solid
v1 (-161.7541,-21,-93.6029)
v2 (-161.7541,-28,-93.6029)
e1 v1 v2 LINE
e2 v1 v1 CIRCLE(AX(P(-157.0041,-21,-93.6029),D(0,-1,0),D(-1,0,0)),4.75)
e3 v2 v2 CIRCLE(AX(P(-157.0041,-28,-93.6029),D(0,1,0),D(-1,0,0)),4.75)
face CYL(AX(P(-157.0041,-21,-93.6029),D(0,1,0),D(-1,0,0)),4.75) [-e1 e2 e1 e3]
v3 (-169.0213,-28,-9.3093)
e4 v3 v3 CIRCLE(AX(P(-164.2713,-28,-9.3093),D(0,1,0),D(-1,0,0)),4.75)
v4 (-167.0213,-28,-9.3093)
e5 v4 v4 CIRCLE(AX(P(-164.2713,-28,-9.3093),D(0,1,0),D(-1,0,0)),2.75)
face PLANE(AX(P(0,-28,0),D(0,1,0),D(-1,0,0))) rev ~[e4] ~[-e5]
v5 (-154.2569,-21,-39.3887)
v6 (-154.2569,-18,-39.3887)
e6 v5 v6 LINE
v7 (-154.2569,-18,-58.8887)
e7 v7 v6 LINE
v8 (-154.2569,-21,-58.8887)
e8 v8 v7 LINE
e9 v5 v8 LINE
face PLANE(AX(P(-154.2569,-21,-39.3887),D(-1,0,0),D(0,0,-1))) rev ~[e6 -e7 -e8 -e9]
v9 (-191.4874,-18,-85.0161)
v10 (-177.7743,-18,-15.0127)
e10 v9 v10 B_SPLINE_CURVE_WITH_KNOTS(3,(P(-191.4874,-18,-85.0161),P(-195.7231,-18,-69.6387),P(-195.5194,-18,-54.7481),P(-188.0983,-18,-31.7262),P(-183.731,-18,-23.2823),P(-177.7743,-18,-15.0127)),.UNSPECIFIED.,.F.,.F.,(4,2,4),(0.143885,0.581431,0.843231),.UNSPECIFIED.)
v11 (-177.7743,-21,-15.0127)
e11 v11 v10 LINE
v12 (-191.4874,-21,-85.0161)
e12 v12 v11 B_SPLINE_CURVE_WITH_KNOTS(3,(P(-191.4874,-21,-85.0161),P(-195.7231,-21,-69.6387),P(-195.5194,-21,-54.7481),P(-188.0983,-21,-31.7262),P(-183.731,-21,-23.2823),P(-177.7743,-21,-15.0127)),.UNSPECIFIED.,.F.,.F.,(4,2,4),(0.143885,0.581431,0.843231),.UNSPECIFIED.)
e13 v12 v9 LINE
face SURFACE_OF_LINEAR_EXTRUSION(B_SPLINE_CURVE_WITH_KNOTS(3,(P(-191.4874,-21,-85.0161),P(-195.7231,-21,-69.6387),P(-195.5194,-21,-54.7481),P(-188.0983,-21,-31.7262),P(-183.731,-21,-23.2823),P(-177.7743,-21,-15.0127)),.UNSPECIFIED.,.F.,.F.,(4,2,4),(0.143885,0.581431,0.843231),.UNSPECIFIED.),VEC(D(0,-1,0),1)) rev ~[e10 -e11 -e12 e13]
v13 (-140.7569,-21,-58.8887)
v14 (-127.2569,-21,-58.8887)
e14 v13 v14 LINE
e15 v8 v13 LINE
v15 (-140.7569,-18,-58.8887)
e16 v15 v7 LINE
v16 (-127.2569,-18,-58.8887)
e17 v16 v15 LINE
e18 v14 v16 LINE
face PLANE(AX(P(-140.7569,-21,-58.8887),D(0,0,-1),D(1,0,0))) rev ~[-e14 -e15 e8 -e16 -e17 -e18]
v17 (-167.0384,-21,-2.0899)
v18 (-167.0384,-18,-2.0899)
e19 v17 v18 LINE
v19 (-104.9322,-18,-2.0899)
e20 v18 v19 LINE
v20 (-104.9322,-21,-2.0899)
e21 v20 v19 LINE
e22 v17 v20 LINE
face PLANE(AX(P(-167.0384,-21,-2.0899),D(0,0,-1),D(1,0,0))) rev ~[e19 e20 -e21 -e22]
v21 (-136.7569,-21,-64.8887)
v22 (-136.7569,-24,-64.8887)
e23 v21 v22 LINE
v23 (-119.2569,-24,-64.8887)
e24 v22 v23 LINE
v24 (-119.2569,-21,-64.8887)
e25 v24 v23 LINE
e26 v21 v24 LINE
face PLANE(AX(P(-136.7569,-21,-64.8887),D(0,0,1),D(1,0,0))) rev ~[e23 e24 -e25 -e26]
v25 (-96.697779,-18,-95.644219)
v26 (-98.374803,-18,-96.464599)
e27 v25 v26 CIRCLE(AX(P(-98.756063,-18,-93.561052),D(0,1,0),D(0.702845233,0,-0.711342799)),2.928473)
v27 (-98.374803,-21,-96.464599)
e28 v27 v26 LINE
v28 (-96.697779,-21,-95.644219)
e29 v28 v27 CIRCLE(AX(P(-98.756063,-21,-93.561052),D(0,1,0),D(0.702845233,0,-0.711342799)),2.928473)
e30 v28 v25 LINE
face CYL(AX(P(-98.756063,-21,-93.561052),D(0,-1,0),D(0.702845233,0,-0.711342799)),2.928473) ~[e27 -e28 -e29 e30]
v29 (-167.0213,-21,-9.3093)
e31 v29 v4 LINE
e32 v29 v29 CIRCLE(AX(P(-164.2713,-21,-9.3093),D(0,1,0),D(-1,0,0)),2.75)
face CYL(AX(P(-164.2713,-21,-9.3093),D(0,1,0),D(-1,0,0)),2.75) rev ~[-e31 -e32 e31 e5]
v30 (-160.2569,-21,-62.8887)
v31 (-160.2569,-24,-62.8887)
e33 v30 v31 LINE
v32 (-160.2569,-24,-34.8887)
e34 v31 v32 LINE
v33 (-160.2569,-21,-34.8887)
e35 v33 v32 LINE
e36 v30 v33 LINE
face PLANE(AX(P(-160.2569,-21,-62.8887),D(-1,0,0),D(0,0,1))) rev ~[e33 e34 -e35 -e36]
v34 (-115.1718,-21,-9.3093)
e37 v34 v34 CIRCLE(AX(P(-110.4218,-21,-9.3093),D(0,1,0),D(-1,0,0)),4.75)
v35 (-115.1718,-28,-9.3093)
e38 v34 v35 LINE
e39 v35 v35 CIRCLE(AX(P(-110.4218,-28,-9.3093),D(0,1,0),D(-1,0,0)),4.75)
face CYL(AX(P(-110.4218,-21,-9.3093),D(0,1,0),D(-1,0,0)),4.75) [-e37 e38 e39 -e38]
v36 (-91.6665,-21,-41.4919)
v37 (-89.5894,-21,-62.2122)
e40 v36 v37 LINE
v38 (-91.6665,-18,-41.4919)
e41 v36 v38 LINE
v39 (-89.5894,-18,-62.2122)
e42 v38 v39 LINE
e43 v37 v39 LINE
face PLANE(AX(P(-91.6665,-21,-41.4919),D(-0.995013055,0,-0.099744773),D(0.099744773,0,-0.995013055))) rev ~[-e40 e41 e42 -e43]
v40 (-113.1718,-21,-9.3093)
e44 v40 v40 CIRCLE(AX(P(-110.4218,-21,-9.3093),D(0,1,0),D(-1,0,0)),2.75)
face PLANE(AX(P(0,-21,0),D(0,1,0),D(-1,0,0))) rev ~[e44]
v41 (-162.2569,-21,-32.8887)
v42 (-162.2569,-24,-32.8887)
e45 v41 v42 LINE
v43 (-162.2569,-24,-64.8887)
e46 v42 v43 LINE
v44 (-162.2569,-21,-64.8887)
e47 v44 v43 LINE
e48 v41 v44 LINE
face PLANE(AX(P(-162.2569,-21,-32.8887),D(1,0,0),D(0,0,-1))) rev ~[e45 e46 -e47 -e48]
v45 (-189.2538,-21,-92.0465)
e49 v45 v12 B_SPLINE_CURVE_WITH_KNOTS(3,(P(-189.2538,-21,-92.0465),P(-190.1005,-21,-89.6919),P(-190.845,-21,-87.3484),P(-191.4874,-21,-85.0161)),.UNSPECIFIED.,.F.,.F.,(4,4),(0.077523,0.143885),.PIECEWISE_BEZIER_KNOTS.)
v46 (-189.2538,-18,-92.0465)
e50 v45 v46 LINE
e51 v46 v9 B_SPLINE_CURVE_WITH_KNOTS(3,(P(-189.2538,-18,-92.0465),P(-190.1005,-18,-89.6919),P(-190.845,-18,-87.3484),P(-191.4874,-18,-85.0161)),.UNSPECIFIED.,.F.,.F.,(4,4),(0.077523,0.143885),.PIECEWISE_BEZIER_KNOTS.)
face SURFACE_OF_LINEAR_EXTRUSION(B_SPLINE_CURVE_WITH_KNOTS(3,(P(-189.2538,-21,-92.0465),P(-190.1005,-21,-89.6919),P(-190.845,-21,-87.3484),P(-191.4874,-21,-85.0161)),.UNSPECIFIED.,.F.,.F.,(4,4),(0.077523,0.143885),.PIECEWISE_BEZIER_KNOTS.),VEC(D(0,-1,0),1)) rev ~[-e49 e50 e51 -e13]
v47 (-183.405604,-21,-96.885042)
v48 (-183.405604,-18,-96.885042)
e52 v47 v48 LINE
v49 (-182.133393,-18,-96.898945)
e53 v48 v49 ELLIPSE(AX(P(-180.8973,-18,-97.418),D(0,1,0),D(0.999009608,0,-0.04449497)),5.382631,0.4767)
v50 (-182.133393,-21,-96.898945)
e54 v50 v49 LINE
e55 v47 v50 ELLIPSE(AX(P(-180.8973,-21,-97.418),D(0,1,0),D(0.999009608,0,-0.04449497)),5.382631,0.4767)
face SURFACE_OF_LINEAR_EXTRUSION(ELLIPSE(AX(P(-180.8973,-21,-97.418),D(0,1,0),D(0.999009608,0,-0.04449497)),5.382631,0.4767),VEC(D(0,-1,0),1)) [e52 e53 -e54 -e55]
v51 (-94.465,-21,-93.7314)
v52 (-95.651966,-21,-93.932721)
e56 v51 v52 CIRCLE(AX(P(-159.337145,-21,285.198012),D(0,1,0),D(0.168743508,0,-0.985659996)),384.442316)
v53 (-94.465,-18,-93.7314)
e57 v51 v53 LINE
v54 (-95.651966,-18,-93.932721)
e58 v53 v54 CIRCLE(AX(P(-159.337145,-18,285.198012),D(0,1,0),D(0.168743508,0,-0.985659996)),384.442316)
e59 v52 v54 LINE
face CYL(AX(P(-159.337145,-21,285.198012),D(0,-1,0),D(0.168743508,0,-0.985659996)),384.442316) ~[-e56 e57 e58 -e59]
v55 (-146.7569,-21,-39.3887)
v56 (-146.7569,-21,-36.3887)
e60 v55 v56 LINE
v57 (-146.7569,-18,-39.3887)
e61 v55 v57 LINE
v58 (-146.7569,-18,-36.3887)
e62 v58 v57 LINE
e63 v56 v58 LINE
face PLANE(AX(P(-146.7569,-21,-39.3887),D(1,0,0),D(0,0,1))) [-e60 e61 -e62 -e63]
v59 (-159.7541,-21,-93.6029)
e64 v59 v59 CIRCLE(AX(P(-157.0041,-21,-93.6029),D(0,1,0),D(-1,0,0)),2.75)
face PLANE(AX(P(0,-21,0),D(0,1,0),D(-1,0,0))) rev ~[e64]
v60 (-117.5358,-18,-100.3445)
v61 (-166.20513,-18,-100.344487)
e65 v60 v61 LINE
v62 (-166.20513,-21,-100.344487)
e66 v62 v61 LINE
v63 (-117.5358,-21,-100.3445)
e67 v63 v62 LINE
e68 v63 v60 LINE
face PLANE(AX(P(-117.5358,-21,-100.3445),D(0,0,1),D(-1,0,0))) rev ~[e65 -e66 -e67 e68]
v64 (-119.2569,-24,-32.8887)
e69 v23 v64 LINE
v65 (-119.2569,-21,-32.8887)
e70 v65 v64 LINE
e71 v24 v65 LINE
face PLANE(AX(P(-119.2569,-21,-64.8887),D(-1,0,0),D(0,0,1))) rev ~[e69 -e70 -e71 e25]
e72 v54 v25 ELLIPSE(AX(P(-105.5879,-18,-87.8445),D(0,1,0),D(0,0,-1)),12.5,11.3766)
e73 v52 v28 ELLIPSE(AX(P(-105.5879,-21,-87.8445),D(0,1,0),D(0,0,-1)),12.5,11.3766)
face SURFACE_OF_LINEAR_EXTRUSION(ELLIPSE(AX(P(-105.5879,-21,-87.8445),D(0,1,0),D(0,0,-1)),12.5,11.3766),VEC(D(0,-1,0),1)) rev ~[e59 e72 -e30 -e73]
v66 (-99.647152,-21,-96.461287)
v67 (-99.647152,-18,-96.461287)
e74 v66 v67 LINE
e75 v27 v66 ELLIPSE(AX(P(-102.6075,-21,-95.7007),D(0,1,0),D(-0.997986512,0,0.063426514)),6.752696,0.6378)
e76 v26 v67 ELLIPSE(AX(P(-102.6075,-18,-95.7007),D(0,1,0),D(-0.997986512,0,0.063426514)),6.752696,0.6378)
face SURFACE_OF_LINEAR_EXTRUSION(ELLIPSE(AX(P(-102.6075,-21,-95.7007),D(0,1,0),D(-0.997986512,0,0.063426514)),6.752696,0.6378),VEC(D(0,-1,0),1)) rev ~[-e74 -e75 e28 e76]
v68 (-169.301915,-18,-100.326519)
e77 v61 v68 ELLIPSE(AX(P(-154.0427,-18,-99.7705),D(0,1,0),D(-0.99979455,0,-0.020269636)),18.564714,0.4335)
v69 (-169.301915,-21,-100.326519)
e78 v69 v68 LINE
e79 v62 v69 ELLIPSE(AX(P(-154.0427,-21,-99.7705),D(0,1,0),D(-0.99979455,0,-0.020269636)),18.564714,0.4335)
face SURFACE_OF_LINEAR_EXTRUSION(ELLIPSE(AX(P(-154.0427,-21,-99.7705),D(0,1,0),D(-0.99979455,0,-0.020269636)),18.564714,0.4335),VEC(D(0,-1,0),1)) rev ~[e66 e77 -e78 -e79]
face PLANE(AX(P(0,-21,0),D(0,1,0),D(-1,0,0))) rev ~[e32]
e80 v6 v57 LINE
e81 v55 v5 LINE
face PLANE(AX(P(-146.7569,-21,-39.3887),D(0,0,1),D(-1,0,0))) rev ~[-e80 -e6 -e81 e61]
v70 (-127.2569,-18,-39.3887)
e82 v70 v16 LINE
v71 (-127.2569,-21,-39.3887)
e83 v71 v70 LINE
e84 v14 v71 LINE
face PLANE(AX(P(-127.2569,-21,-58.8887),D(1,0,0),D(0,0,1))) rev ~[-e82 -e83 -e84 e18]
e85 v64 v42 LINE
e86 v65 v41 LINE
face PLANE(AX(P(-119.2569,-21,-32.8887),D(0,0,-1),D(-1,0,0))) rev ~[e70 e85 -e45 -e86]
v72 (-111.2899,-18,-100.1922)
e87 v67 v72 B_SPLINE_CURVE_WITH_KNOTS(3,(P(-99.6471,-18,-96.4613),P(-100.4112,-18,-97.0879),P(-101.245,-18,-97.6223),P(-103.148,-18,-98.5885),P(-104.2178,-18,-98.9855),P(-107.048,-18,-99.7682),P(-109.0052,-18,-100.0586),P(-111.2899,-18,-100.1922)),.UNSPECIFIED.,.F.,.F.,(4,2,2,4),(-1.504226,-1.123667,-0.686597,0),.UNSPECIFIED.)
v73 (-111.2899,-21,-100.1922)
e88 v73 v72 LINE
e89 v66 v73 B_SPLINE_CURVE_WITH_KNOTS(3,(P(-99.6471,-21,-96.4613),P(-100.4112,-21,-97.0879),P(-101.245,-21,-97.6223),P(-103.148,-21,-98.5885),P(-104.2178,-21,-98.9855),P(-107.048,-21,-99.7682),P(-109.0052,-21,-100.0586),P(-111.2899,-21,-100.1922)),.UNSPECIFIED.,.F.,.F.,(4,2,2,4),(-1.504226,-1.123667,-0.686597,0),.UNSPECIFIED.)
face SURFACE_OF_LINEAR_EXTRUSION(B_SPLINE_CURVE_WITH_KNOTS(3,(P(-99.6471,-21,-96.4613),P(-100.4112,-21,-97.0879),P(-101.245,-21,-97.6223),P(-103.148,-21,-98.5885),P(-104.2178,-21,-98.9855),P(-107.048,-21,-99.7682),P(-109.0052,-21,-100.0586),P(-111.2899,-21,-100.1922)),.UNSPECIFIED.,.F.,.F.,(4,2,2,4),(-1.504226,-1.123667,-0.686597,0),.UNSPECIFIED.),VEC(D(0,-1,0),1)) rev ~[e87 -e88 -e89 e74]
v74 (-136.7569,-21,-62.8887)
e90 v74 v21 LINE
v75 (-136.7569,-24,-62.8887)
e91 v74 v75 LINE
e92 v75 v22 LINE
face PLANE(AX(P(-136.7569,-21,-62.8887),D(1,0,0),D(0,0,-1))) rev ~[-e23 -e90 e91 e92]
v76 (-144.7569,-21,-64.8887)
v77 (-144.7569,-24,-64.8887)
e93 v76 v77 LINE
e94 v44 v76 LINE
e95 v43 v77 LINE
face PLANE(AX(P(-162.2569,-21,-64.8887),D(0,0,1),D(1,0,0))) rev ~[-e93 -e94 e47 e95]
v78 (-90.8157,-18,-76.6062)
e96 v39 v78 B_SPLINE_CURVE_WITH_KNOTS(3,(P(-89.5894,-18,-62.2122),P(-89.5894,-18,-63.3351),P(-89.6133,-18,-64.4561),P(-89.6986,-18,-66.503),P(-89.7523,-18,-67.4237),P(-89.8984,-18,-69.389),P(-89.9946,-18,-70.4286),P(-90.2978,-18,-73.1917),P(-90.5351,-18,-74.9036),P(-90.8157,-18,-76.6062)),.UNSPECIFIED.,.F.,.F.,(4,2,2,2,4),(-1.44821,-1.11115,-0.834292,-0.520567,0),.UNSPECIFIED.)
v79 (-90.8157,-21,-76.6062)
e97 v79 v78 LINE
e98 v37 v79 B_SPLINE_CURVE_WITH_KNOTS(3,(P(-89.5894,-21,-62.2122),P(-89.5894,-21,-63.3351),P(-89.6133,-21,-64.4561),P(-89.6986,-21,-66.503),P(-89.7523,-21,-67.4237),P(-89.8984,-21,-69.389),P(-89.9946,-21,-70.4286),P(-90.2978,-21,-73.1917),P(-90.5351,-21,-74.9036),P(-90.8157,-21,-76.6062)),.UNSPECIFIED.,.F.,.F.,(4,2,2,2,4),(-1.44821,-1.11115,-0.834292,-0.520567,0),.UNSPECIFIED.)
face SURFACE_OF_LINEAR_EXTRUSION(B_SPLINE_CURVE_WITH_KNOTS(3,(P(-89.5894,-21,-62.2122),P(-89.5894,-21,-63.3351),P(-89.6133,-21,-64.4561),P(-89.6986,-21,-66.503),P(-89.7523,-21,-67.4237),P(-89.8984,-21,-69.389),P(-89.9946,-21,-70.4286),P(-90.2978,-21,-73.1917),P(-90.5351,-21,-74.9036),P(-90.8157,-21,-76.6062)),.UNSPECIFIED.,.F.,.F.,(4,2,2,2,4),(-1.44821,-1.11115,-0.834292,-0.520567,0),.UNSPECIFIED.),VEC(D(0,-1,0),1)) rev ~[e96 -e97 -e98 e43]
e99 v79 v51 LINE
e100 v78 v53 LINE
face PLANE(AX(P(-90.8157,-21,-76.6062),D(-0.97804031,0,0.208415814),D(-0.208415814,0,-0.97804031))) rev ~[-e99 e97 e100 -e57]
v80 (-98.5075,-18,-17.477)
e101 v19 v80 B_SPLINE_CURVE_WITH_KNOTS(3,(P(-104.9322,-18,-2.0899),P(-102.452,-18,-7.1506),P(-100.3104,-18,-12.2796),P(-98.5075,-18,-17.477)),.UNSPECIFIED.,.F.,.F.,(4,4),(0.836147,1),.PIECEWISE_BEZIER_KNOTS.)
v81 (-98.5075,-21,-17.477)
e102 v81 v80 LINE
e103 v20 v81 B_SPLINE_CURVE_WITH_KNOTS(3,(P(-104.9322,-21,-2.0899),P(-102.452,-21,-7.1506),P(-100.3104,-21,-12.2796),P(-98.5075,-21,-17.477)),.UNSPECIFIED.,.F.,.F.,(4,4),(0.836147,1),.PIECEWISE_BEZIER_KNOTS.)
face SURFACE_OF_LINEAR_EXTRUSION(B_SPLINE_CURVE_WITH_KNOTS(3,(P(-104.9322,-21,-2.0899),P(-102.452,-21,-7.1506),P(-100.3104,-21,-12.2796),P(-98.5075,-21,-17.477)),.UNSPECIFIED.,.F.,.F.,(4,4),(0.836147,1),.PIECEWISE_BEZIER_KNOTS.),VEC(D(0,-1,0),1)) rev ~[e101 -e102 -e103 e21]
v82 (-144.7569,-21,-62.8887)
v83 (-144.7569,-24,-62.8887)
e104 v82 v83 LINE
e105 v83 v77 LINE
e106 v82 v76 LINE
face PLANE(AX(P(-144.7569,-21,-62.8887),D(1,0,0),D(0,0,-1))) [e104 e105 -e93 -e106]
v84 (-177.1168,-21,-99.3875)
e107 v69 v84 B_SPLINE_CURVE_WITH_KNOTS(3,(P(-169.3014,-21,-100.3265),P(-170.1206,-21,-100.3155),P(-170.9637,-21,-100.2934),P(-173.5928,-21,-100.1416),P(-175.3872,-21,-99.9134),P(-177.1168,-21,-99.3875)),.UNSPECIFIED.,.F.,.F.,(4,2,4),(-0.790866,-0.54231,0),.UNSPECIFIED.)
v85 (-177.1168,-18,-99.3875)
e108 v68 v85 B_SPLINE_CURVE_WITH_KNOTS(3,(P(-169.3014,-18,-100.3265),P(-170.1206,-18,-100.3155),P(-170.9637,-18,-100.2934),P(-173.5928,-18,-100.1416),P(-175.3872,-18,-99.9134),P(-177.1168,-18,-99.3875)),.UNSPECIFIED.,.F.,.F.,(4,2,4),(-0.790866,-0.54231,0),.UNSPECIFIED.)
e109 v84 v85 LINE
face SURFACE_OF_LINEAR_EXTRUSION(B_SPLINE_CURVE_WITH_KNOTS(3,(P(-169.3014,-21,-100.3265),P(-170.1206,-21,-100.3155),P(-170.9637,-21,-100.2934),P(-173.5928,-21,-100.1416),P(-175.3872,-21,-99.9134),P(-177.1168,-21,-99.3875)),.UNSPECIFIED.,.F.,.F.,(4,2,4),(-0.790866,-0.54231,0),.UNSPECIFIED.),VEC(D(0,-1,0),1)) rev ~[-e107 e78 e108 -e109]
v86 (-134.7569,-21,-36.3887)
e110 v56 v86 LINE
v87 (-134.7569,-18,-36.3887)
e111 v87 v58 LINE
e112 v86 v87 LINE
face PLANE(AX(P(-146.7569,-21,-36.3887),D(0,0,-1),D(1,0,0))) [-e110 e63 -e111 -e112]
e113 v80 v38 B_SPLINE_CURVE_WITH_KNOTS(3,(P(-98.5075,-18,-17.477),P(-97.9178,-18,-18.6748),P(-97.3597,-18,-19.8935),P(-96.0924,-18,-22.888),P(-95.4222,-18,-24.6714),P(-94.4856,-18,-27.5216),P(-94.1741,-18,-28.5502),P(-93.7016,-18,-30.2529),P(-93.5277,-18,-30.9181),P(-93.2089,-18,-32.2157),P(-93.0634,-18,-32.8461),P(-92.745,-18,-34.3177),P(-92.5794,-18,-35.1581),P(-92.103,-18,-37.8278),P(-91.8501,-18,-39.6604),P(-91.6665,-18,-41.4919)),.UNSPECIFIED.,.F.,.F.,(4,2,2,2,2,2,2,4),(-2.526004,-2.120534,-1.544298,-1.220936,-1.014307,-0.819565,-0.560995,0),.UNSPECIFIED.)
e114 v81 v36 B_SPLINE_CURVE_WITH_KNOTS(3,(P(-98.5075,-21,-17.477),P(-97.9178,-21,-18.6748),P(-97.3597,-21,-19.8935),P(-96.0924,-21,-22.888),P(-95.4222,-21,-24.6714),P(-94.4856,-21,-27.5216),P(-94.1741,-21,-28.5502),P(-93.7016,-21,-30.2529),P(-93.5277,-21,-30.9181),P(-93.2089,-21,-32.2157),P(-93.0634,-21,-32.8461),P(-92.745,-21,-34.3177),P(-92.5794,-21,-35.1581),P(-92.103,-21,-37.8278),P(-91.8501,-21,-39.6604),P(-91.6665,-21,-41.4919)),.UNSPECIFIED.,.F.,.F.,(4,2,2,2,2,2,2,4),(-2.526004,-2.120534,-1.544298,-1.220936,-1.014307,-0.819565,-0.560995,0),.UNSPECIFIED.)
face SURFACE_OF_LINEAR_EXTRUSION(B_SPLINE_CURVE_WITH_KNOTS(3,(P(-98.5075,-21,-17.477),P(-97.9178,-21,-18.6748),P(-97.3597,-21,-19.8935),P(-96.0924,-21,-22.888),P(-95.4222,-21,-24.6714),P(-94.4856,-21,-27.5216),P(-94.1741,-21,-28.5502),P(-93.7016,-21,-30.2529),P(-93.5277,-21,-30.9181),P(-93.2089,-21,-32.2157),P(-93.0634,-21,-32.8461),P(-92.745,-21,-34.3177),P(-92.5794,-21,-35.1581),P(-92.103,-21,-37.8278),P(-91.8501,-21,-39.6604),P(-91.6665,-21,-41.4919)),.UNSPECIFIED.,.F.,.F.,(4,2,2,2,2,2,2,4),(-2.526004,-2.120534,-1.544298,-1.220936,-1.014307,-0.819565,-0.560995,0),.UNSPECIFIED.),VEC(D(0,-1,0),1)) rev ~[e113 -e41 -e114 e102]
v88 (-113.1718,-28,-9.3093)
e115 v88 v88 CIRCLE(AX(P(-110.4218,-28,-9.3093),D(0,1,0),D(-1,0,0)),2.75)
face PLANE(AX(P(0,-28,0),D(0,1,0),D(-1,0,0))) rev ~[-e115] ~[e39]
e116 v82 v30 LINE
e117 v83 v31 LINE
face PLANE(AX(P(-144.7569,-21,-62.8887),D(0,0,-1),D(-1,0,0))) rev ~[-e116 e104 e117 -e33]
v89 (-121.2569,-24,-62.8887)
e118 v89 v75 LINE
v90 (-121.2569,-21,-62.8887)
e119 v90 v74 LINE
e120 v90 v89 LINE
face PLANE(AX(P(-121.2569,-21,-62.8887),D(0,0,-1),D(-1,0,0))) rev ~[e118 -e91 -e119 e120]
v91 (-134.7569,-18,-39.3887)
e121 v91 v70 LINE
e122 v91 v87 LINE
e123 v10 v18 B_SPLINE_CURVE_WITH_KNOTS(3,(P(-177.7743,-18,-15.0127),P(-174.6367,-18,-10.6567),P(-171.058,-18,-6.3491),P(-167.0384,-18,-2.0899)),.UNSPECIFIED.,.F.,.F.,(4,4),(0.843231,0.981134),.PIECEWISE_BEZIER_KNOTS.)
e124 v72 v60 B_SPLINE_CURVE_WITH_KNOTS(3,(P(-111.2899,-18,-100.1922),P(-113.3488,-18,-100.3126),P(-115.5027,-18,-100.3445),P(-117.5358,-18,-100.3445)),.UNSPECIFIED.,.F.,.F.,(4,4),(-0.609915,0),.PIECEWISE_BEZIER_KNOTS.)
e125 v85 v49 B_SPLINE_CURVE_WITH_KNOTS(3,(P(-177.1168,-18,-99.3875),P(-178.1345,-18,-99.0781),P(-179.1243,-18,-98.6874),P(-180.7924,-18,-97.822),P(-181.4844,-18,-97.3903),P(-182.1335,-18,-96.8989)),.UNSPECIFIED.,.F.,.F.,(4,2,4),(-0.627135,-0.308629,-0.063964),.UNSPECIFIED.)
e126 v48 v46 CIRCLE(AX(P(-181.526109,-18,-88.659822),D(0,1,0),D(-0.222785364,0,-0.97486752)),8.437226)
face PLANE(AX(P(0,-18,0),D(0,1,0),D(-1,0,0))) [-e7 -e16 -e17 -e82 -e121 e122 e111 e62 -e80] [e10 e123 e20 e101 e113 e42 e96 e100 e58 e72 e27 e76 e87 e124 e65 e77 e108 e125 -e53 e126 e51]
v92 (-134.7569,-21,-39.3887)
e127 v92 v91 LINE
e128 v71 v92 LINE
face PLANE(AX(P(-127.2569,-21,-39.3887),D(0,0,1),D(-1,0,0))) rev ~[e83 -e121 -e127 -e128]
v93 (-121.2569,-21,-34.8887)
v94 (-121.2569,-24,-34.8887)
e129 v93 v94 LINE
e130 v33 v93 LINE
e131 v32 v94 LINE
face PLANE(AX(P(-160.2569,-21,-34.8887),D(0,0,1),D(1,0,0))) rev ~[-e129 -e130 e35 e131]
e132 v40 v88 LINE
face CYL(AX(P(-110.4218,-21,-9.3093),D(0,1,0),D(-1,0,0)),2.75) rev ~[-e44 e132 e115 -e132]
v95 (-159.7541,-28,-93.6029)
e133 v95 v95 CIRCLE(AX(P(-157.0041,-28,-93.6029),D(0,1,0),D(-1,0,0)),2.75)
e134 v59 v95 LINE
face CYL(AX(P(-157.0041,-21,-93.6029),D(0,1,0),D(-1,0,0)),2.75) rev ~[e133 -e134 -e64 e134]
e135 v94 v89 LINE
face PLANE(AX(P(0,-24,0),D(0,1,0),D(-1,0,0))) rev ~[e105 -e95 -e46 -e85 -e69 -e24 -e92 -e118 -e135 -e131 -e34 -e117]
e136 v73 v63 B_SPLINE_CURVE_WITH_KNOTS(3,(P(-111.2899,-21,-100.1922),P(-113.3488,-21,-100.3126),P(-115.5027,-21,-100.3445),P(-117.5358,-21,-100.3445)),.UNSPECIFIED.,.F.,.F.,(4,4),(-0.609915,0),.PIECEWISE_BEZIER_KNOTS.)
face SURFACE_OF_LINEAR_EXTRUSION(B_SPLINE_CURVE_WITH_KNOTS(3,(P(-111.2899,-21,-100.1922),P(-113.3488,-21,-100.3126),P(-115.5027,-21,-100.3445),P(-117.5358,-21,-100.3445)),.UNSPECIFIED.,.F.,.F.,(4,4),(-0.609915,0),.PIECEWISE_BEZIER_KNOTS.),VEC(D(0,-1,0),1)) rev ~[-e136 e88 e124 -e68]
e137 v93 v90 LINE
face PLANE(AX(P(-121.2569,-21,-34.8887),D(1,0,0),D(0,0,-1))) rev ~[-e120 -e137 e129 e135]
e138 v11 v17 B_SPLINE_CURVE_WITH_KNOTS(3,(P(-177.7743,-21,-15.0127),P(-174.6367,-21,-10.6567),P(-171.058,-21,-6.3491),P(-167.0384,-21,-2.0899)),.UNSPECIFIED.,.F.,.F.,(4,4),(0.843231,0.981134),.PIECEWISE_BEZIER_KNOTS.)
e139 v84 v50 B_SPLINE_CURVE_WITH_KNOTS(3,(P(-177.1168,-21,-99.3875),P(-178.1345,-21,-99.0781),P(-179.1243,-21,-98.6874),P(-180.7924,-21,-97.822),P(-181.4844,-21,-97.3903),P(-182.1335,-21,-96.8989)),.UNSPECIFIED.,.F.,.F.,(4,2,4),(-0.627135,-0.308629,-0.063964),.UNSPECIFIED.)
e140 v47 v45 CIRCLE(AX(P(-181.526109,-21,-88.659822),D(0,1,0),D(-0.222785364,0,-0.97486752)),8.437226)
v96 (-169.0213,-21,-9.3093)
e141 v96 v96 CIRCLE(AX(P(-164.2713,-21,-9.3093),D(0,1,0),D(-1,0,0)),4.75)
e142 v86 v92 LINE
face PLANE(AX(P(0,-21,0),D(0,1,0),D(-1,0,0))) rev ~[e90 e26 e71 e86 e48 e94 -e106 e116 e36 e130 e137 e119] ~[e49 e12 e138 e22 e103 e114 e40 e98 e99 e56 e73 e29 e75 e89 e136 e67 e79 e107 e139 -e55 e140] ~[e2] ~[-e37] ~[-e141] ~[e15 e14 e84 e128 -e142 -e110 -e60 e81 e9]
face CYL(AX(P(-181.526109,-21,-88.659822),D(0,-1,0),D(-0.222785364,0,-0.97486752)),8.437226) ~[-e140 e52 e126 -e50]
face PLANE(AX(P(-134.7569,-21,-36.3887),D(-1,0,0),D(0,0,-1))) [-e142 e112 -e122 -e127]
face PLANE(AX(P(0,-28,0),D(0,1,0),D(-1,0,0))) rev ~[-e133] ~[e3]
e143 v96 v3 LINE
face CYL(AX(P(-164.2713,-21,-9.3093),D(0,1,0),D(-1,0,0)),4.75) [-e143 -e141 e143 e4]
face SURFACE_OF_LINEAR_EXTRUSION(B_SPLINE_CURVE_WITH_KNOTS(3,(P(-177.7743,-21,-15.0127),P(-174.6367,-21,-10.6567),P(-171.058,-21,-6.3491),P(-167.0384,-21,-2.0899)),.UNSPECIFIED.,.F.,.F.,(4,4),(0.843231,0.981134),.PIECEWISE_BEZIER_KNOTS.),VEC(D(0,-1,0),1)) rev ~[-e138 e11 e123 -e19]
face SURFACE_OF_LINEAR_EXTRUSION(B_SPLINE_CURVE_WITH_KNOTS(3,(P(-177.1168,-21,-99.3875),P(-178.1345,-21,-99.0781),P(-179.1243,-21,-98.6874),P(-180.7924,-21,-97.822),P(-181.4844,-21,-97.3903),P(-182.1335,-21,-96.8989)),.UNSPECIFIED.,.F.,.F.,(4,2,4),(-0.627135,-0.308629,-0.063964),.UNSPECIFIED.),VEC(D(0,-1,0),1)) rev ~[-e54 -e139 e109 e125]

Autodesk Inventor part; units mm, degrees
ref_plane "YZ Plane" through (0, 0, 0) normal (1, 0, 0) x (0, 1, 0)
ref_plane "XY Plane" through (0, 0, 0) normal (0, 0, 1) x (1, 0, 0)
ref_plane "작업 평면16" through (0, -21, 0) normal (0, 1, 0) x (-1, 0, 0)
sketch "스케치46" plane through (0, -21, 0) normal (0, 1, 0) x (-1, 0, 0)
  spline S0 degree 3 poles (191.4874, -85.0161) (195.7231, -69.6387) (195.5194, -54.7481) (188.0983, -31.7262) (183.731, -23.2823) (177.7743, -15.0127) knots 0.143885 0.143885 0.143885 0.143885 0.581431 0.581431 0.843231 0.843231 0.843231 0.843231
  spline S1 degree 3 poles (189.2538, -92.0465) (190.1005, -89.6919) (190.845, -87.3484) (191.4874, -85.0161) knots 0.077523 0.077523 0.077523 0.077523 0.143885 0.143885 0.143885 0.143885
  arc A0 (183.4058, -96.885) -> (189.2538, -92.0465) centre (181.526, -88.6596) ccw
  spline S2 degree 3 poles (177.1168, -99.3875) (178.1345, -99.0781) (179.1243, -98.6874) (180.7924, -97.822) (181.4844, -97.3903) (182.1335, -96.8989) knots -0.627135 -0.627135 -0.627135 -0.627135 -0.308629 -0.308629 -0.063964 -0.063964 -0.063964 -0.063964
  ellipse E0 centre (180.8973, -97.418) end of major axis (175.52, -97.6575) minor radius 0.4767 (183.4058, -96.885) -> (182.1335, -96.8989) ccw
  spline S3 degree 3 poles (169.3014, -100.3265) (170.1206, -100.3155) (170.9637, -100.2934) (173.5928, -100.1416) (175.3872, -99.9134) (177.1168, -99.3875) knots -0.790866 -0.790866 -0.790866 -0.790866 -0.54231 -0.54231 0 0 0 0
  ellipse E1 centre (154.0427, -99.7705) end of major axis (172.6036, -100.1468) minor radius 0.4335 (166.2054, -100.3445) -> (169.3014, -100.3265) ccw
  line L0 (117.5358, -100.3445) -> (166.2054, -100.3445)
  spline S4 degree 3 poles (177.7743, -15.0127) (174.6367, -10.6567) (171.058, -6.3491) (167.0384, -2.0899) knots 0.843231 0.843231 0.843231 0.843231 0.981134 0.981134 0.981134 0.981134
  line L1 (167.0384, -2.0899) -> (104.9322, -2.0899)
  spline S5 degree 3 poles (104.9322, -2.0899) (102.452, -7.1506) (100.3104, -12.2796) (98.5075, -17.477) knots 0.836147 0.836147 0.836147 0.836147 1 1 1 1
  spline S6 degree 3 poles (98.5075, -17.477) (97.9178, -18.6748) (97.3597, -19.8935) (96.0924, -22.888) (95.4222, -24.6714) (94.4856, -27.5216) (94.1741, -28.5502) (93.7016, -30.2529) (93.5277, -30.9181) (93.2089, -32.2157) (93.0634, -32.8461) (92.745, -34.3177) (92.5794, -35.1581) (92.103, -37.8278) (91.8501, -39.6604) (91.6665, -41.4919) knots -2.526004 -2.526004 -2.526004 -2.526004 -2.120534 -2.120534 -1.544298 -1.544298 -1.220936 -1.220936 -1.014307 -1.014307 -0.819565 -0.819565 -0.560995 -0.560995 0 0 0 0
  line L2 (91.6665, -41.4919) -> (89.5894, -62.2122)
  spline S7 degree 3 poles (89.5894, -62.2122) (89.5894, -63.3351) (89.6133, -64.4561) (89.6986, -66.503) (89.7523, -67.4237) (89.8984, -69.389) (89.9946, -70.4286) (90.2978, -73.1917) (90.5351, -74.9036) (90.8157, -76.6062) knots -1.44821 -1.44821 -1.44821 -1.44821 -1.11115 -1.11115 -0.834292 -0.834292 -0.520567 -0.520567 0 0 0 0
  line L3 (90.8157, -76.6062) -> (94.465, -93.7314)
  arc A1 (94.465, -93.7314) -> (95.652, -93.9327) centre (165.2915, 320.1429) ccw
  ellipse E2 centre (105.5879, -87.8445) end of major axis (105.5879, -100.3445) minor radius 11.3766 (95.652, -93.9327) -> (96.6978, -95.6442) ccw
  arc A2 (96.6978, -95.6442) -> (98.3748, -96.4646) centre (98.7561, -93.561) ccw
  ellipse E3 centre (102.6075, -95.7007) end of major axis (109.3466, -95.2724) minor radius 0.6378 (98.3748, -96.4646) -> (99.6471, -96.4613) ccw
  spline S8 degree 3 poles (99.6471, -96.4613) (100.4112, -97.0879) (101.245, -97.6223) (103.148, -98.5885) (104.2178, -98.9855) (107.048, -99.7682) (109.0052, -100.0586) (111.2899, -100.1922) knots -1.504226 -1.504226 -1.504226 -1.504226 -1.123667 -1.123667 -0.686597 -0.686597 0 0 0 0
  spline S9 degree 3 poles (111.2899, -100.1922) (113.3488, -100.3126) (115.5027, -100.3445) (117.5358, -100.3445) knots -0.609915 -0.609915 -0.609915 -0.609915 0 0 0 0
  line L4 (117.5358, -100.3445) -> (166.2054, -100.3445)
  ellipse E4 centre (154.0427, -99.7705) end of major axis (172.6036, -100.1468) minor radius 0.4335 (166.2054, -100.3445) -> (169.3014, -100.3265) ccw
  spline S10 degree 3 poles (169.3014, -100.3265) (170.1206, -100.3155) (170.9637, -100.2934) (173.5928, -100.1416) (175.3872, -99.9134) (177.1168, -99.3875) knots -0.790866 -0.790866 -0.790866 -0.790866 -0.54231 -0.54231 0 0 0 0
  spline S11 degree 3 poles (177.1168, -99.3875) (178.1345, -99.0781) (179.1243, -98.6874) (180.7924, -97.822) (181.4844, -97.3903) (182.1335, -96.8989) knots -0.627135 -0.627135 -0.627135 -0.627135 -0.308629 -0.308629 -0.063964 -0.063964 -0.063964 -0.063964
  ellipse E5 centre (180.8973, -97.418) end of major axis (175.52, -97.6575) minor radius 0.4767 (183.4058, -96.885) -> (182.1335, -96.8989) ccw
  arc A3 (183.4058, -96.885) -> (189.2538, -92.0465) centre (181.526, -88.6596) ccw
  spline S12 degree 3 poles (189.2538, -92.0465) (190.1005, -89.6919) (190.845, -87.3484) (191.4874, -85.0161) knots 0.077523 0.077523 0.077523 0.077523 0.143885 0.143885 0.143885 0.143885
  spline S13 degree 3 poles (191.4874, -85.0161) (195.7231, -69.6387) (195.5194, -54.7481) (188.0983, -31.7262) (183.731, -23.2823) (177.7743, -15.0127) knots 0.143885 0.143885 0.143885 0.143885 0.581431 0.581431 0.843231 0.843231 0.843231 0.843231
  spline S14 degree 3 poles (189.5592, -84.485) (189.4545, -84.8653) (189.2663, -85.5314) (189.0415, -86.2939) (188.8686, -86.8664) (188.7513, -87.2483) (188.602, -87.7261) (188.4805, -88.1086) (188.326, -88.587) (188.2003, -88.9701) (188.0405, -89.4492) (187.9106, -89.8328) (187.7456, -90.3127) (187.5779, -90.7929) (187.441, -91.1774) (187.3718, -91.3698) knots 0.077523 0.077523 0.077523 0.077523 0.088583 0.096878 0.099644 0.105174 0.107939 0.113469 0.116234 0.121764 0.124529 0.130059 0.132824 0.138354 0.143885 0.143885 0.143885 0.143885
  arc A4 (180.8973, -95.3262) -> (187.3718, -91.3698) centre (181.2393, -88.61) ccw
  spline S15 degree 3 poles (180.8973, -95.3262) (180.6943, -95.4789) (180.3216, -95.7405) (179.8747, -96.018) (179.5233, -96.221) (179.2849, -96.3513) (178.9819, -96.5081) (178.7361, -96.6283) (178.4248, -96.7723) (178.1725, -96.8825) (177.8532, -97.0141) (177.5947, -97.1146) (177.268, -97.2343) (176.9377, -97.3481) (176.6698, -97.433) (176.535, -97.474) knots -0.622898 -0.622898 -0.622898 -0.622898 -0.533273 -0.462877 -0.439411 -0.39248 -0.369015 -0.322084 -0.298619 -0.251688 -0.228222 -0.181292 -0.157826 -0.110895 -0.063964 -0.063964 -0.063964 -0.063964
  line L5 (176.535, -97.474) -> (111.4067, -98.1956)
  spline S16 degree 3 poles (111.4067, -98.1956) (111.0082, -98.1723) (110.2355, -98.1159) (109.3273, -98.0206) (108.4602, -97.9064) (107.7985, -97.7999) (107.0879, -97.6629) (106.6323, -97.562) (106.2272, -97.4625) (106.0103, -97.4058) (105.7968, -97.3472) (105.6552, -97.307) (105.3736, -97.224) (105.0254, -97.1142) (104.5121, -96.935) (104.1099, -96.7784) (103.7148, -96.6109) (103.455, -96.4936) (103.1348, -96.3398) (102.8824, -96.2109) (102.573, -96.043) (102.3302, -95.9032) (101.9734, -95.685) (101.5109, -95.3793) (101.1273, -95.0886) (100.9153, -94.9147) knots 0 0 0 0 0.125352 0.250704 0.31338 0.438733 0.501409 0.595423 0.626761 0.673768 0.689437 0.720775 0.736444 0.814789 0.877465 0.971479 1.002817 1.065493 1.096832 1.159508 1.190846 1.253522 1.28486 1.378874 1.504226 1.504226 1.504226 1.504226
  arc A5 (96.293, -91.0501) -> (100.9153, -94.9147) centre (102.2083, -88.6716) ccw
  arc A6 (92.3068, -61.3872) -> (96.293, -91.0501) centre (227.7562, -58.2846) ccw
  arc A7 (107.3313, -4.0899) -> (92.3068, -61.3872) centre (218.4178, -63.8374) ccw
  line L6 (107.3313, -4.0899) -> (166.1723, -4.0899)
  spline S17 degree 3 poles (166.1723, -4.0899) (166.7932, -4.7558) (167.8603, -5.9228) (169.041, -7.2601) (169.91, -8.2645) (170.4809, -8.9348) (171.1843, -9.7736) (171.7386, -10.4454) (172.4212, -11.286) (172.959, -11.9593) (173.6208, -12.8017) (174.142, -13.4764) (174.7831, -14.3207) (175.4139, -15.1658) (175.9075, -15.8429) (176.1515, -16.1817) knots 0.843231 0.843231 0.843231 0.843231 0.865071 0.881452 0.886912 0.897832 0.903292 0.914212 0.919672 0.930592 0.936052 0.946972 0.952432 0.963352 0.974272 0.974272 0.974272 0.974272
  spline S18 degree 3 poles (176.1515, -16.1817) (177.4538, -17.9897) (179.9013, -21.6192) (182.5692, -26.1898) (184.9446, -30.7857) (186.6116, -34.4828) (188.4049, -39.1304) (189.6076, -42.8697) (190.8225, -47.5717) (191.5638, -51.3563) (192.2029, -56.1175) (192.4844, -59.9515) (192.5489, -64.7775) (192.3706, -68.6656) (191.8595, -73.5618) (191.0598, -78.4947) (190.1111, -82.4814) (189.5592, -84.485) knots 0.143885 0.143885 0.143885 0.143885 0.202163 0.260442 0.289582 0.347861 0.377 0.435279 0.464418 0.522697 0.551837 0.610116 0.639255 0.697534 0.726673 0.784952 0.843231 0.843231 0.843231 0.843231
  circle A8 centre (157.0041, -93.6029) radius 2.75
  circle A9 centre (157.0041, -93.6029) radius 4.75
  line L7 (176.535, -97.474) -> (111.4067, -98.1956)
  circle A10 centre (164.2713, -9.3093) radius 2.75
  circle A11 centre (164.2713, -9.3093) radius 4.75
  circle A12 centre (110.4218, -9.3093) radius 2.75
  circle A13 centre (110.4218, -9.3093) radius 4.75
  line L8 (154.2569, -58.8887) -> (127.2569, -58.8887)
  line L9 (127.2569, -58.8887) -> (127.2569, -39.3887)
  line L10 (154.2569, -39.3887) -> (154.2569, -58.8887)
  line L11 (146.7569, -39.3887) -> (146.7569, -36.3887)
  line L12 (146.7569, -36.3887) -> (134.7569, -36.3887)
  line L13 (134.7569, -36.3887) -> (134.7569, -39.3887)
  line L14 (127.2569, -39.3887) -> (134.7569, -39.3887)
  line L15 (146.7569, -39.3887) -> (154.2569, -39.3887)
  line L16 (121.2569, -62.8887) -> (160.2569, -62.8887)
  line L17 (160.2569, -62.8887) -> (160.2569, -34.8887)
  line L18 (160.2569, -34.8887) -> (121.2569, -34.8887)
  line L19 (121.2569, -34.8887) -> (121.2569, -62.8887)
  line L20 (162.2569, -64.8887) -> (119.2569, -64.8887)
  line L21 (119.2569, -64.8887) -> (119.2569, -32.8887)
  line L22 (119.2569, -32.8887) -> (162.2569, -32.8887)
  line L23 (162.2569, -32.8887) -> (162.2569, -64.8887)
  line L24 (136.7569, -62.8887) -> (136.7569, -64.8887)
  line L25 (144.7569, -62.8887) -> (144.7569, -64.8887)
  line L26 (140.7569, -58.8887) -> (140.7569, -78.8674)
  point P0 (0, 0)
  point P1 (135.3739, -0.3445)
  point P2 (177.7743, -15.0127)
  point P3 (159.4693, -97.6631)
  point P4 (154.6295, -97.7167)
  dimension "d272" = 5.5
  dimension "d273" = 2
  dimension "d274" = 5.5
  dimension "d275" = 2
  dimension "d276" = 5.5
  dimension "d277" = 2
  dimension "d284" = 27
  dimension "d285" = 19.5
  dimension "d286" = 12
  dimension "d287" = 7.5
  dimension "d288" = 3
  dimension "d291" = 3
  dimension "d292" = 39
  dimension "d293" = 28
  dimension "d294" = 6
  dimension "d295" = 4
  dimension "d296" = 2
  dimension "d297" = 4
  dimension "d298" = 4
extrude "돌출51" add sketch "스케치46" along normal blind 3 contours S1 A0 E0 S2 S3 E1 L0 S9 S8 E3 A2 E2 A1 L3 S7 L2 S6 S5 L1 S4 S0 | S14 A4 S15 L5 A9 S16 A5 A6 A7 L6 S17 S18 | A9 L5 | L5 A9 | A8 | A10 | A11 | A12 | A13 | L16 L19 L18 L17 | L16 L25 L20 L26 | L26 L20 L24 L16 | L8 L9 L14 L13 L12 L11 L15 L10 | L24 L20 L21 L22 L23 L25 L16 L17 L18 L19
extrude "돌출53" add sketch "스케치46" against normal blind 7 contours A9 L5 | L5 A9 | A11 | A13
extrude "돌출54" cut sketch "스케치46" along normal blind 7 contours L8 L9 L14 L13 L12 L11 L15 L10
extrude "돌출55" add sketch "스케치46" against normal blind 3 contours L24 L20 L21 L22 L23 L25 L16 L17 L18 L19
properties part number "장갑_위_찐"
